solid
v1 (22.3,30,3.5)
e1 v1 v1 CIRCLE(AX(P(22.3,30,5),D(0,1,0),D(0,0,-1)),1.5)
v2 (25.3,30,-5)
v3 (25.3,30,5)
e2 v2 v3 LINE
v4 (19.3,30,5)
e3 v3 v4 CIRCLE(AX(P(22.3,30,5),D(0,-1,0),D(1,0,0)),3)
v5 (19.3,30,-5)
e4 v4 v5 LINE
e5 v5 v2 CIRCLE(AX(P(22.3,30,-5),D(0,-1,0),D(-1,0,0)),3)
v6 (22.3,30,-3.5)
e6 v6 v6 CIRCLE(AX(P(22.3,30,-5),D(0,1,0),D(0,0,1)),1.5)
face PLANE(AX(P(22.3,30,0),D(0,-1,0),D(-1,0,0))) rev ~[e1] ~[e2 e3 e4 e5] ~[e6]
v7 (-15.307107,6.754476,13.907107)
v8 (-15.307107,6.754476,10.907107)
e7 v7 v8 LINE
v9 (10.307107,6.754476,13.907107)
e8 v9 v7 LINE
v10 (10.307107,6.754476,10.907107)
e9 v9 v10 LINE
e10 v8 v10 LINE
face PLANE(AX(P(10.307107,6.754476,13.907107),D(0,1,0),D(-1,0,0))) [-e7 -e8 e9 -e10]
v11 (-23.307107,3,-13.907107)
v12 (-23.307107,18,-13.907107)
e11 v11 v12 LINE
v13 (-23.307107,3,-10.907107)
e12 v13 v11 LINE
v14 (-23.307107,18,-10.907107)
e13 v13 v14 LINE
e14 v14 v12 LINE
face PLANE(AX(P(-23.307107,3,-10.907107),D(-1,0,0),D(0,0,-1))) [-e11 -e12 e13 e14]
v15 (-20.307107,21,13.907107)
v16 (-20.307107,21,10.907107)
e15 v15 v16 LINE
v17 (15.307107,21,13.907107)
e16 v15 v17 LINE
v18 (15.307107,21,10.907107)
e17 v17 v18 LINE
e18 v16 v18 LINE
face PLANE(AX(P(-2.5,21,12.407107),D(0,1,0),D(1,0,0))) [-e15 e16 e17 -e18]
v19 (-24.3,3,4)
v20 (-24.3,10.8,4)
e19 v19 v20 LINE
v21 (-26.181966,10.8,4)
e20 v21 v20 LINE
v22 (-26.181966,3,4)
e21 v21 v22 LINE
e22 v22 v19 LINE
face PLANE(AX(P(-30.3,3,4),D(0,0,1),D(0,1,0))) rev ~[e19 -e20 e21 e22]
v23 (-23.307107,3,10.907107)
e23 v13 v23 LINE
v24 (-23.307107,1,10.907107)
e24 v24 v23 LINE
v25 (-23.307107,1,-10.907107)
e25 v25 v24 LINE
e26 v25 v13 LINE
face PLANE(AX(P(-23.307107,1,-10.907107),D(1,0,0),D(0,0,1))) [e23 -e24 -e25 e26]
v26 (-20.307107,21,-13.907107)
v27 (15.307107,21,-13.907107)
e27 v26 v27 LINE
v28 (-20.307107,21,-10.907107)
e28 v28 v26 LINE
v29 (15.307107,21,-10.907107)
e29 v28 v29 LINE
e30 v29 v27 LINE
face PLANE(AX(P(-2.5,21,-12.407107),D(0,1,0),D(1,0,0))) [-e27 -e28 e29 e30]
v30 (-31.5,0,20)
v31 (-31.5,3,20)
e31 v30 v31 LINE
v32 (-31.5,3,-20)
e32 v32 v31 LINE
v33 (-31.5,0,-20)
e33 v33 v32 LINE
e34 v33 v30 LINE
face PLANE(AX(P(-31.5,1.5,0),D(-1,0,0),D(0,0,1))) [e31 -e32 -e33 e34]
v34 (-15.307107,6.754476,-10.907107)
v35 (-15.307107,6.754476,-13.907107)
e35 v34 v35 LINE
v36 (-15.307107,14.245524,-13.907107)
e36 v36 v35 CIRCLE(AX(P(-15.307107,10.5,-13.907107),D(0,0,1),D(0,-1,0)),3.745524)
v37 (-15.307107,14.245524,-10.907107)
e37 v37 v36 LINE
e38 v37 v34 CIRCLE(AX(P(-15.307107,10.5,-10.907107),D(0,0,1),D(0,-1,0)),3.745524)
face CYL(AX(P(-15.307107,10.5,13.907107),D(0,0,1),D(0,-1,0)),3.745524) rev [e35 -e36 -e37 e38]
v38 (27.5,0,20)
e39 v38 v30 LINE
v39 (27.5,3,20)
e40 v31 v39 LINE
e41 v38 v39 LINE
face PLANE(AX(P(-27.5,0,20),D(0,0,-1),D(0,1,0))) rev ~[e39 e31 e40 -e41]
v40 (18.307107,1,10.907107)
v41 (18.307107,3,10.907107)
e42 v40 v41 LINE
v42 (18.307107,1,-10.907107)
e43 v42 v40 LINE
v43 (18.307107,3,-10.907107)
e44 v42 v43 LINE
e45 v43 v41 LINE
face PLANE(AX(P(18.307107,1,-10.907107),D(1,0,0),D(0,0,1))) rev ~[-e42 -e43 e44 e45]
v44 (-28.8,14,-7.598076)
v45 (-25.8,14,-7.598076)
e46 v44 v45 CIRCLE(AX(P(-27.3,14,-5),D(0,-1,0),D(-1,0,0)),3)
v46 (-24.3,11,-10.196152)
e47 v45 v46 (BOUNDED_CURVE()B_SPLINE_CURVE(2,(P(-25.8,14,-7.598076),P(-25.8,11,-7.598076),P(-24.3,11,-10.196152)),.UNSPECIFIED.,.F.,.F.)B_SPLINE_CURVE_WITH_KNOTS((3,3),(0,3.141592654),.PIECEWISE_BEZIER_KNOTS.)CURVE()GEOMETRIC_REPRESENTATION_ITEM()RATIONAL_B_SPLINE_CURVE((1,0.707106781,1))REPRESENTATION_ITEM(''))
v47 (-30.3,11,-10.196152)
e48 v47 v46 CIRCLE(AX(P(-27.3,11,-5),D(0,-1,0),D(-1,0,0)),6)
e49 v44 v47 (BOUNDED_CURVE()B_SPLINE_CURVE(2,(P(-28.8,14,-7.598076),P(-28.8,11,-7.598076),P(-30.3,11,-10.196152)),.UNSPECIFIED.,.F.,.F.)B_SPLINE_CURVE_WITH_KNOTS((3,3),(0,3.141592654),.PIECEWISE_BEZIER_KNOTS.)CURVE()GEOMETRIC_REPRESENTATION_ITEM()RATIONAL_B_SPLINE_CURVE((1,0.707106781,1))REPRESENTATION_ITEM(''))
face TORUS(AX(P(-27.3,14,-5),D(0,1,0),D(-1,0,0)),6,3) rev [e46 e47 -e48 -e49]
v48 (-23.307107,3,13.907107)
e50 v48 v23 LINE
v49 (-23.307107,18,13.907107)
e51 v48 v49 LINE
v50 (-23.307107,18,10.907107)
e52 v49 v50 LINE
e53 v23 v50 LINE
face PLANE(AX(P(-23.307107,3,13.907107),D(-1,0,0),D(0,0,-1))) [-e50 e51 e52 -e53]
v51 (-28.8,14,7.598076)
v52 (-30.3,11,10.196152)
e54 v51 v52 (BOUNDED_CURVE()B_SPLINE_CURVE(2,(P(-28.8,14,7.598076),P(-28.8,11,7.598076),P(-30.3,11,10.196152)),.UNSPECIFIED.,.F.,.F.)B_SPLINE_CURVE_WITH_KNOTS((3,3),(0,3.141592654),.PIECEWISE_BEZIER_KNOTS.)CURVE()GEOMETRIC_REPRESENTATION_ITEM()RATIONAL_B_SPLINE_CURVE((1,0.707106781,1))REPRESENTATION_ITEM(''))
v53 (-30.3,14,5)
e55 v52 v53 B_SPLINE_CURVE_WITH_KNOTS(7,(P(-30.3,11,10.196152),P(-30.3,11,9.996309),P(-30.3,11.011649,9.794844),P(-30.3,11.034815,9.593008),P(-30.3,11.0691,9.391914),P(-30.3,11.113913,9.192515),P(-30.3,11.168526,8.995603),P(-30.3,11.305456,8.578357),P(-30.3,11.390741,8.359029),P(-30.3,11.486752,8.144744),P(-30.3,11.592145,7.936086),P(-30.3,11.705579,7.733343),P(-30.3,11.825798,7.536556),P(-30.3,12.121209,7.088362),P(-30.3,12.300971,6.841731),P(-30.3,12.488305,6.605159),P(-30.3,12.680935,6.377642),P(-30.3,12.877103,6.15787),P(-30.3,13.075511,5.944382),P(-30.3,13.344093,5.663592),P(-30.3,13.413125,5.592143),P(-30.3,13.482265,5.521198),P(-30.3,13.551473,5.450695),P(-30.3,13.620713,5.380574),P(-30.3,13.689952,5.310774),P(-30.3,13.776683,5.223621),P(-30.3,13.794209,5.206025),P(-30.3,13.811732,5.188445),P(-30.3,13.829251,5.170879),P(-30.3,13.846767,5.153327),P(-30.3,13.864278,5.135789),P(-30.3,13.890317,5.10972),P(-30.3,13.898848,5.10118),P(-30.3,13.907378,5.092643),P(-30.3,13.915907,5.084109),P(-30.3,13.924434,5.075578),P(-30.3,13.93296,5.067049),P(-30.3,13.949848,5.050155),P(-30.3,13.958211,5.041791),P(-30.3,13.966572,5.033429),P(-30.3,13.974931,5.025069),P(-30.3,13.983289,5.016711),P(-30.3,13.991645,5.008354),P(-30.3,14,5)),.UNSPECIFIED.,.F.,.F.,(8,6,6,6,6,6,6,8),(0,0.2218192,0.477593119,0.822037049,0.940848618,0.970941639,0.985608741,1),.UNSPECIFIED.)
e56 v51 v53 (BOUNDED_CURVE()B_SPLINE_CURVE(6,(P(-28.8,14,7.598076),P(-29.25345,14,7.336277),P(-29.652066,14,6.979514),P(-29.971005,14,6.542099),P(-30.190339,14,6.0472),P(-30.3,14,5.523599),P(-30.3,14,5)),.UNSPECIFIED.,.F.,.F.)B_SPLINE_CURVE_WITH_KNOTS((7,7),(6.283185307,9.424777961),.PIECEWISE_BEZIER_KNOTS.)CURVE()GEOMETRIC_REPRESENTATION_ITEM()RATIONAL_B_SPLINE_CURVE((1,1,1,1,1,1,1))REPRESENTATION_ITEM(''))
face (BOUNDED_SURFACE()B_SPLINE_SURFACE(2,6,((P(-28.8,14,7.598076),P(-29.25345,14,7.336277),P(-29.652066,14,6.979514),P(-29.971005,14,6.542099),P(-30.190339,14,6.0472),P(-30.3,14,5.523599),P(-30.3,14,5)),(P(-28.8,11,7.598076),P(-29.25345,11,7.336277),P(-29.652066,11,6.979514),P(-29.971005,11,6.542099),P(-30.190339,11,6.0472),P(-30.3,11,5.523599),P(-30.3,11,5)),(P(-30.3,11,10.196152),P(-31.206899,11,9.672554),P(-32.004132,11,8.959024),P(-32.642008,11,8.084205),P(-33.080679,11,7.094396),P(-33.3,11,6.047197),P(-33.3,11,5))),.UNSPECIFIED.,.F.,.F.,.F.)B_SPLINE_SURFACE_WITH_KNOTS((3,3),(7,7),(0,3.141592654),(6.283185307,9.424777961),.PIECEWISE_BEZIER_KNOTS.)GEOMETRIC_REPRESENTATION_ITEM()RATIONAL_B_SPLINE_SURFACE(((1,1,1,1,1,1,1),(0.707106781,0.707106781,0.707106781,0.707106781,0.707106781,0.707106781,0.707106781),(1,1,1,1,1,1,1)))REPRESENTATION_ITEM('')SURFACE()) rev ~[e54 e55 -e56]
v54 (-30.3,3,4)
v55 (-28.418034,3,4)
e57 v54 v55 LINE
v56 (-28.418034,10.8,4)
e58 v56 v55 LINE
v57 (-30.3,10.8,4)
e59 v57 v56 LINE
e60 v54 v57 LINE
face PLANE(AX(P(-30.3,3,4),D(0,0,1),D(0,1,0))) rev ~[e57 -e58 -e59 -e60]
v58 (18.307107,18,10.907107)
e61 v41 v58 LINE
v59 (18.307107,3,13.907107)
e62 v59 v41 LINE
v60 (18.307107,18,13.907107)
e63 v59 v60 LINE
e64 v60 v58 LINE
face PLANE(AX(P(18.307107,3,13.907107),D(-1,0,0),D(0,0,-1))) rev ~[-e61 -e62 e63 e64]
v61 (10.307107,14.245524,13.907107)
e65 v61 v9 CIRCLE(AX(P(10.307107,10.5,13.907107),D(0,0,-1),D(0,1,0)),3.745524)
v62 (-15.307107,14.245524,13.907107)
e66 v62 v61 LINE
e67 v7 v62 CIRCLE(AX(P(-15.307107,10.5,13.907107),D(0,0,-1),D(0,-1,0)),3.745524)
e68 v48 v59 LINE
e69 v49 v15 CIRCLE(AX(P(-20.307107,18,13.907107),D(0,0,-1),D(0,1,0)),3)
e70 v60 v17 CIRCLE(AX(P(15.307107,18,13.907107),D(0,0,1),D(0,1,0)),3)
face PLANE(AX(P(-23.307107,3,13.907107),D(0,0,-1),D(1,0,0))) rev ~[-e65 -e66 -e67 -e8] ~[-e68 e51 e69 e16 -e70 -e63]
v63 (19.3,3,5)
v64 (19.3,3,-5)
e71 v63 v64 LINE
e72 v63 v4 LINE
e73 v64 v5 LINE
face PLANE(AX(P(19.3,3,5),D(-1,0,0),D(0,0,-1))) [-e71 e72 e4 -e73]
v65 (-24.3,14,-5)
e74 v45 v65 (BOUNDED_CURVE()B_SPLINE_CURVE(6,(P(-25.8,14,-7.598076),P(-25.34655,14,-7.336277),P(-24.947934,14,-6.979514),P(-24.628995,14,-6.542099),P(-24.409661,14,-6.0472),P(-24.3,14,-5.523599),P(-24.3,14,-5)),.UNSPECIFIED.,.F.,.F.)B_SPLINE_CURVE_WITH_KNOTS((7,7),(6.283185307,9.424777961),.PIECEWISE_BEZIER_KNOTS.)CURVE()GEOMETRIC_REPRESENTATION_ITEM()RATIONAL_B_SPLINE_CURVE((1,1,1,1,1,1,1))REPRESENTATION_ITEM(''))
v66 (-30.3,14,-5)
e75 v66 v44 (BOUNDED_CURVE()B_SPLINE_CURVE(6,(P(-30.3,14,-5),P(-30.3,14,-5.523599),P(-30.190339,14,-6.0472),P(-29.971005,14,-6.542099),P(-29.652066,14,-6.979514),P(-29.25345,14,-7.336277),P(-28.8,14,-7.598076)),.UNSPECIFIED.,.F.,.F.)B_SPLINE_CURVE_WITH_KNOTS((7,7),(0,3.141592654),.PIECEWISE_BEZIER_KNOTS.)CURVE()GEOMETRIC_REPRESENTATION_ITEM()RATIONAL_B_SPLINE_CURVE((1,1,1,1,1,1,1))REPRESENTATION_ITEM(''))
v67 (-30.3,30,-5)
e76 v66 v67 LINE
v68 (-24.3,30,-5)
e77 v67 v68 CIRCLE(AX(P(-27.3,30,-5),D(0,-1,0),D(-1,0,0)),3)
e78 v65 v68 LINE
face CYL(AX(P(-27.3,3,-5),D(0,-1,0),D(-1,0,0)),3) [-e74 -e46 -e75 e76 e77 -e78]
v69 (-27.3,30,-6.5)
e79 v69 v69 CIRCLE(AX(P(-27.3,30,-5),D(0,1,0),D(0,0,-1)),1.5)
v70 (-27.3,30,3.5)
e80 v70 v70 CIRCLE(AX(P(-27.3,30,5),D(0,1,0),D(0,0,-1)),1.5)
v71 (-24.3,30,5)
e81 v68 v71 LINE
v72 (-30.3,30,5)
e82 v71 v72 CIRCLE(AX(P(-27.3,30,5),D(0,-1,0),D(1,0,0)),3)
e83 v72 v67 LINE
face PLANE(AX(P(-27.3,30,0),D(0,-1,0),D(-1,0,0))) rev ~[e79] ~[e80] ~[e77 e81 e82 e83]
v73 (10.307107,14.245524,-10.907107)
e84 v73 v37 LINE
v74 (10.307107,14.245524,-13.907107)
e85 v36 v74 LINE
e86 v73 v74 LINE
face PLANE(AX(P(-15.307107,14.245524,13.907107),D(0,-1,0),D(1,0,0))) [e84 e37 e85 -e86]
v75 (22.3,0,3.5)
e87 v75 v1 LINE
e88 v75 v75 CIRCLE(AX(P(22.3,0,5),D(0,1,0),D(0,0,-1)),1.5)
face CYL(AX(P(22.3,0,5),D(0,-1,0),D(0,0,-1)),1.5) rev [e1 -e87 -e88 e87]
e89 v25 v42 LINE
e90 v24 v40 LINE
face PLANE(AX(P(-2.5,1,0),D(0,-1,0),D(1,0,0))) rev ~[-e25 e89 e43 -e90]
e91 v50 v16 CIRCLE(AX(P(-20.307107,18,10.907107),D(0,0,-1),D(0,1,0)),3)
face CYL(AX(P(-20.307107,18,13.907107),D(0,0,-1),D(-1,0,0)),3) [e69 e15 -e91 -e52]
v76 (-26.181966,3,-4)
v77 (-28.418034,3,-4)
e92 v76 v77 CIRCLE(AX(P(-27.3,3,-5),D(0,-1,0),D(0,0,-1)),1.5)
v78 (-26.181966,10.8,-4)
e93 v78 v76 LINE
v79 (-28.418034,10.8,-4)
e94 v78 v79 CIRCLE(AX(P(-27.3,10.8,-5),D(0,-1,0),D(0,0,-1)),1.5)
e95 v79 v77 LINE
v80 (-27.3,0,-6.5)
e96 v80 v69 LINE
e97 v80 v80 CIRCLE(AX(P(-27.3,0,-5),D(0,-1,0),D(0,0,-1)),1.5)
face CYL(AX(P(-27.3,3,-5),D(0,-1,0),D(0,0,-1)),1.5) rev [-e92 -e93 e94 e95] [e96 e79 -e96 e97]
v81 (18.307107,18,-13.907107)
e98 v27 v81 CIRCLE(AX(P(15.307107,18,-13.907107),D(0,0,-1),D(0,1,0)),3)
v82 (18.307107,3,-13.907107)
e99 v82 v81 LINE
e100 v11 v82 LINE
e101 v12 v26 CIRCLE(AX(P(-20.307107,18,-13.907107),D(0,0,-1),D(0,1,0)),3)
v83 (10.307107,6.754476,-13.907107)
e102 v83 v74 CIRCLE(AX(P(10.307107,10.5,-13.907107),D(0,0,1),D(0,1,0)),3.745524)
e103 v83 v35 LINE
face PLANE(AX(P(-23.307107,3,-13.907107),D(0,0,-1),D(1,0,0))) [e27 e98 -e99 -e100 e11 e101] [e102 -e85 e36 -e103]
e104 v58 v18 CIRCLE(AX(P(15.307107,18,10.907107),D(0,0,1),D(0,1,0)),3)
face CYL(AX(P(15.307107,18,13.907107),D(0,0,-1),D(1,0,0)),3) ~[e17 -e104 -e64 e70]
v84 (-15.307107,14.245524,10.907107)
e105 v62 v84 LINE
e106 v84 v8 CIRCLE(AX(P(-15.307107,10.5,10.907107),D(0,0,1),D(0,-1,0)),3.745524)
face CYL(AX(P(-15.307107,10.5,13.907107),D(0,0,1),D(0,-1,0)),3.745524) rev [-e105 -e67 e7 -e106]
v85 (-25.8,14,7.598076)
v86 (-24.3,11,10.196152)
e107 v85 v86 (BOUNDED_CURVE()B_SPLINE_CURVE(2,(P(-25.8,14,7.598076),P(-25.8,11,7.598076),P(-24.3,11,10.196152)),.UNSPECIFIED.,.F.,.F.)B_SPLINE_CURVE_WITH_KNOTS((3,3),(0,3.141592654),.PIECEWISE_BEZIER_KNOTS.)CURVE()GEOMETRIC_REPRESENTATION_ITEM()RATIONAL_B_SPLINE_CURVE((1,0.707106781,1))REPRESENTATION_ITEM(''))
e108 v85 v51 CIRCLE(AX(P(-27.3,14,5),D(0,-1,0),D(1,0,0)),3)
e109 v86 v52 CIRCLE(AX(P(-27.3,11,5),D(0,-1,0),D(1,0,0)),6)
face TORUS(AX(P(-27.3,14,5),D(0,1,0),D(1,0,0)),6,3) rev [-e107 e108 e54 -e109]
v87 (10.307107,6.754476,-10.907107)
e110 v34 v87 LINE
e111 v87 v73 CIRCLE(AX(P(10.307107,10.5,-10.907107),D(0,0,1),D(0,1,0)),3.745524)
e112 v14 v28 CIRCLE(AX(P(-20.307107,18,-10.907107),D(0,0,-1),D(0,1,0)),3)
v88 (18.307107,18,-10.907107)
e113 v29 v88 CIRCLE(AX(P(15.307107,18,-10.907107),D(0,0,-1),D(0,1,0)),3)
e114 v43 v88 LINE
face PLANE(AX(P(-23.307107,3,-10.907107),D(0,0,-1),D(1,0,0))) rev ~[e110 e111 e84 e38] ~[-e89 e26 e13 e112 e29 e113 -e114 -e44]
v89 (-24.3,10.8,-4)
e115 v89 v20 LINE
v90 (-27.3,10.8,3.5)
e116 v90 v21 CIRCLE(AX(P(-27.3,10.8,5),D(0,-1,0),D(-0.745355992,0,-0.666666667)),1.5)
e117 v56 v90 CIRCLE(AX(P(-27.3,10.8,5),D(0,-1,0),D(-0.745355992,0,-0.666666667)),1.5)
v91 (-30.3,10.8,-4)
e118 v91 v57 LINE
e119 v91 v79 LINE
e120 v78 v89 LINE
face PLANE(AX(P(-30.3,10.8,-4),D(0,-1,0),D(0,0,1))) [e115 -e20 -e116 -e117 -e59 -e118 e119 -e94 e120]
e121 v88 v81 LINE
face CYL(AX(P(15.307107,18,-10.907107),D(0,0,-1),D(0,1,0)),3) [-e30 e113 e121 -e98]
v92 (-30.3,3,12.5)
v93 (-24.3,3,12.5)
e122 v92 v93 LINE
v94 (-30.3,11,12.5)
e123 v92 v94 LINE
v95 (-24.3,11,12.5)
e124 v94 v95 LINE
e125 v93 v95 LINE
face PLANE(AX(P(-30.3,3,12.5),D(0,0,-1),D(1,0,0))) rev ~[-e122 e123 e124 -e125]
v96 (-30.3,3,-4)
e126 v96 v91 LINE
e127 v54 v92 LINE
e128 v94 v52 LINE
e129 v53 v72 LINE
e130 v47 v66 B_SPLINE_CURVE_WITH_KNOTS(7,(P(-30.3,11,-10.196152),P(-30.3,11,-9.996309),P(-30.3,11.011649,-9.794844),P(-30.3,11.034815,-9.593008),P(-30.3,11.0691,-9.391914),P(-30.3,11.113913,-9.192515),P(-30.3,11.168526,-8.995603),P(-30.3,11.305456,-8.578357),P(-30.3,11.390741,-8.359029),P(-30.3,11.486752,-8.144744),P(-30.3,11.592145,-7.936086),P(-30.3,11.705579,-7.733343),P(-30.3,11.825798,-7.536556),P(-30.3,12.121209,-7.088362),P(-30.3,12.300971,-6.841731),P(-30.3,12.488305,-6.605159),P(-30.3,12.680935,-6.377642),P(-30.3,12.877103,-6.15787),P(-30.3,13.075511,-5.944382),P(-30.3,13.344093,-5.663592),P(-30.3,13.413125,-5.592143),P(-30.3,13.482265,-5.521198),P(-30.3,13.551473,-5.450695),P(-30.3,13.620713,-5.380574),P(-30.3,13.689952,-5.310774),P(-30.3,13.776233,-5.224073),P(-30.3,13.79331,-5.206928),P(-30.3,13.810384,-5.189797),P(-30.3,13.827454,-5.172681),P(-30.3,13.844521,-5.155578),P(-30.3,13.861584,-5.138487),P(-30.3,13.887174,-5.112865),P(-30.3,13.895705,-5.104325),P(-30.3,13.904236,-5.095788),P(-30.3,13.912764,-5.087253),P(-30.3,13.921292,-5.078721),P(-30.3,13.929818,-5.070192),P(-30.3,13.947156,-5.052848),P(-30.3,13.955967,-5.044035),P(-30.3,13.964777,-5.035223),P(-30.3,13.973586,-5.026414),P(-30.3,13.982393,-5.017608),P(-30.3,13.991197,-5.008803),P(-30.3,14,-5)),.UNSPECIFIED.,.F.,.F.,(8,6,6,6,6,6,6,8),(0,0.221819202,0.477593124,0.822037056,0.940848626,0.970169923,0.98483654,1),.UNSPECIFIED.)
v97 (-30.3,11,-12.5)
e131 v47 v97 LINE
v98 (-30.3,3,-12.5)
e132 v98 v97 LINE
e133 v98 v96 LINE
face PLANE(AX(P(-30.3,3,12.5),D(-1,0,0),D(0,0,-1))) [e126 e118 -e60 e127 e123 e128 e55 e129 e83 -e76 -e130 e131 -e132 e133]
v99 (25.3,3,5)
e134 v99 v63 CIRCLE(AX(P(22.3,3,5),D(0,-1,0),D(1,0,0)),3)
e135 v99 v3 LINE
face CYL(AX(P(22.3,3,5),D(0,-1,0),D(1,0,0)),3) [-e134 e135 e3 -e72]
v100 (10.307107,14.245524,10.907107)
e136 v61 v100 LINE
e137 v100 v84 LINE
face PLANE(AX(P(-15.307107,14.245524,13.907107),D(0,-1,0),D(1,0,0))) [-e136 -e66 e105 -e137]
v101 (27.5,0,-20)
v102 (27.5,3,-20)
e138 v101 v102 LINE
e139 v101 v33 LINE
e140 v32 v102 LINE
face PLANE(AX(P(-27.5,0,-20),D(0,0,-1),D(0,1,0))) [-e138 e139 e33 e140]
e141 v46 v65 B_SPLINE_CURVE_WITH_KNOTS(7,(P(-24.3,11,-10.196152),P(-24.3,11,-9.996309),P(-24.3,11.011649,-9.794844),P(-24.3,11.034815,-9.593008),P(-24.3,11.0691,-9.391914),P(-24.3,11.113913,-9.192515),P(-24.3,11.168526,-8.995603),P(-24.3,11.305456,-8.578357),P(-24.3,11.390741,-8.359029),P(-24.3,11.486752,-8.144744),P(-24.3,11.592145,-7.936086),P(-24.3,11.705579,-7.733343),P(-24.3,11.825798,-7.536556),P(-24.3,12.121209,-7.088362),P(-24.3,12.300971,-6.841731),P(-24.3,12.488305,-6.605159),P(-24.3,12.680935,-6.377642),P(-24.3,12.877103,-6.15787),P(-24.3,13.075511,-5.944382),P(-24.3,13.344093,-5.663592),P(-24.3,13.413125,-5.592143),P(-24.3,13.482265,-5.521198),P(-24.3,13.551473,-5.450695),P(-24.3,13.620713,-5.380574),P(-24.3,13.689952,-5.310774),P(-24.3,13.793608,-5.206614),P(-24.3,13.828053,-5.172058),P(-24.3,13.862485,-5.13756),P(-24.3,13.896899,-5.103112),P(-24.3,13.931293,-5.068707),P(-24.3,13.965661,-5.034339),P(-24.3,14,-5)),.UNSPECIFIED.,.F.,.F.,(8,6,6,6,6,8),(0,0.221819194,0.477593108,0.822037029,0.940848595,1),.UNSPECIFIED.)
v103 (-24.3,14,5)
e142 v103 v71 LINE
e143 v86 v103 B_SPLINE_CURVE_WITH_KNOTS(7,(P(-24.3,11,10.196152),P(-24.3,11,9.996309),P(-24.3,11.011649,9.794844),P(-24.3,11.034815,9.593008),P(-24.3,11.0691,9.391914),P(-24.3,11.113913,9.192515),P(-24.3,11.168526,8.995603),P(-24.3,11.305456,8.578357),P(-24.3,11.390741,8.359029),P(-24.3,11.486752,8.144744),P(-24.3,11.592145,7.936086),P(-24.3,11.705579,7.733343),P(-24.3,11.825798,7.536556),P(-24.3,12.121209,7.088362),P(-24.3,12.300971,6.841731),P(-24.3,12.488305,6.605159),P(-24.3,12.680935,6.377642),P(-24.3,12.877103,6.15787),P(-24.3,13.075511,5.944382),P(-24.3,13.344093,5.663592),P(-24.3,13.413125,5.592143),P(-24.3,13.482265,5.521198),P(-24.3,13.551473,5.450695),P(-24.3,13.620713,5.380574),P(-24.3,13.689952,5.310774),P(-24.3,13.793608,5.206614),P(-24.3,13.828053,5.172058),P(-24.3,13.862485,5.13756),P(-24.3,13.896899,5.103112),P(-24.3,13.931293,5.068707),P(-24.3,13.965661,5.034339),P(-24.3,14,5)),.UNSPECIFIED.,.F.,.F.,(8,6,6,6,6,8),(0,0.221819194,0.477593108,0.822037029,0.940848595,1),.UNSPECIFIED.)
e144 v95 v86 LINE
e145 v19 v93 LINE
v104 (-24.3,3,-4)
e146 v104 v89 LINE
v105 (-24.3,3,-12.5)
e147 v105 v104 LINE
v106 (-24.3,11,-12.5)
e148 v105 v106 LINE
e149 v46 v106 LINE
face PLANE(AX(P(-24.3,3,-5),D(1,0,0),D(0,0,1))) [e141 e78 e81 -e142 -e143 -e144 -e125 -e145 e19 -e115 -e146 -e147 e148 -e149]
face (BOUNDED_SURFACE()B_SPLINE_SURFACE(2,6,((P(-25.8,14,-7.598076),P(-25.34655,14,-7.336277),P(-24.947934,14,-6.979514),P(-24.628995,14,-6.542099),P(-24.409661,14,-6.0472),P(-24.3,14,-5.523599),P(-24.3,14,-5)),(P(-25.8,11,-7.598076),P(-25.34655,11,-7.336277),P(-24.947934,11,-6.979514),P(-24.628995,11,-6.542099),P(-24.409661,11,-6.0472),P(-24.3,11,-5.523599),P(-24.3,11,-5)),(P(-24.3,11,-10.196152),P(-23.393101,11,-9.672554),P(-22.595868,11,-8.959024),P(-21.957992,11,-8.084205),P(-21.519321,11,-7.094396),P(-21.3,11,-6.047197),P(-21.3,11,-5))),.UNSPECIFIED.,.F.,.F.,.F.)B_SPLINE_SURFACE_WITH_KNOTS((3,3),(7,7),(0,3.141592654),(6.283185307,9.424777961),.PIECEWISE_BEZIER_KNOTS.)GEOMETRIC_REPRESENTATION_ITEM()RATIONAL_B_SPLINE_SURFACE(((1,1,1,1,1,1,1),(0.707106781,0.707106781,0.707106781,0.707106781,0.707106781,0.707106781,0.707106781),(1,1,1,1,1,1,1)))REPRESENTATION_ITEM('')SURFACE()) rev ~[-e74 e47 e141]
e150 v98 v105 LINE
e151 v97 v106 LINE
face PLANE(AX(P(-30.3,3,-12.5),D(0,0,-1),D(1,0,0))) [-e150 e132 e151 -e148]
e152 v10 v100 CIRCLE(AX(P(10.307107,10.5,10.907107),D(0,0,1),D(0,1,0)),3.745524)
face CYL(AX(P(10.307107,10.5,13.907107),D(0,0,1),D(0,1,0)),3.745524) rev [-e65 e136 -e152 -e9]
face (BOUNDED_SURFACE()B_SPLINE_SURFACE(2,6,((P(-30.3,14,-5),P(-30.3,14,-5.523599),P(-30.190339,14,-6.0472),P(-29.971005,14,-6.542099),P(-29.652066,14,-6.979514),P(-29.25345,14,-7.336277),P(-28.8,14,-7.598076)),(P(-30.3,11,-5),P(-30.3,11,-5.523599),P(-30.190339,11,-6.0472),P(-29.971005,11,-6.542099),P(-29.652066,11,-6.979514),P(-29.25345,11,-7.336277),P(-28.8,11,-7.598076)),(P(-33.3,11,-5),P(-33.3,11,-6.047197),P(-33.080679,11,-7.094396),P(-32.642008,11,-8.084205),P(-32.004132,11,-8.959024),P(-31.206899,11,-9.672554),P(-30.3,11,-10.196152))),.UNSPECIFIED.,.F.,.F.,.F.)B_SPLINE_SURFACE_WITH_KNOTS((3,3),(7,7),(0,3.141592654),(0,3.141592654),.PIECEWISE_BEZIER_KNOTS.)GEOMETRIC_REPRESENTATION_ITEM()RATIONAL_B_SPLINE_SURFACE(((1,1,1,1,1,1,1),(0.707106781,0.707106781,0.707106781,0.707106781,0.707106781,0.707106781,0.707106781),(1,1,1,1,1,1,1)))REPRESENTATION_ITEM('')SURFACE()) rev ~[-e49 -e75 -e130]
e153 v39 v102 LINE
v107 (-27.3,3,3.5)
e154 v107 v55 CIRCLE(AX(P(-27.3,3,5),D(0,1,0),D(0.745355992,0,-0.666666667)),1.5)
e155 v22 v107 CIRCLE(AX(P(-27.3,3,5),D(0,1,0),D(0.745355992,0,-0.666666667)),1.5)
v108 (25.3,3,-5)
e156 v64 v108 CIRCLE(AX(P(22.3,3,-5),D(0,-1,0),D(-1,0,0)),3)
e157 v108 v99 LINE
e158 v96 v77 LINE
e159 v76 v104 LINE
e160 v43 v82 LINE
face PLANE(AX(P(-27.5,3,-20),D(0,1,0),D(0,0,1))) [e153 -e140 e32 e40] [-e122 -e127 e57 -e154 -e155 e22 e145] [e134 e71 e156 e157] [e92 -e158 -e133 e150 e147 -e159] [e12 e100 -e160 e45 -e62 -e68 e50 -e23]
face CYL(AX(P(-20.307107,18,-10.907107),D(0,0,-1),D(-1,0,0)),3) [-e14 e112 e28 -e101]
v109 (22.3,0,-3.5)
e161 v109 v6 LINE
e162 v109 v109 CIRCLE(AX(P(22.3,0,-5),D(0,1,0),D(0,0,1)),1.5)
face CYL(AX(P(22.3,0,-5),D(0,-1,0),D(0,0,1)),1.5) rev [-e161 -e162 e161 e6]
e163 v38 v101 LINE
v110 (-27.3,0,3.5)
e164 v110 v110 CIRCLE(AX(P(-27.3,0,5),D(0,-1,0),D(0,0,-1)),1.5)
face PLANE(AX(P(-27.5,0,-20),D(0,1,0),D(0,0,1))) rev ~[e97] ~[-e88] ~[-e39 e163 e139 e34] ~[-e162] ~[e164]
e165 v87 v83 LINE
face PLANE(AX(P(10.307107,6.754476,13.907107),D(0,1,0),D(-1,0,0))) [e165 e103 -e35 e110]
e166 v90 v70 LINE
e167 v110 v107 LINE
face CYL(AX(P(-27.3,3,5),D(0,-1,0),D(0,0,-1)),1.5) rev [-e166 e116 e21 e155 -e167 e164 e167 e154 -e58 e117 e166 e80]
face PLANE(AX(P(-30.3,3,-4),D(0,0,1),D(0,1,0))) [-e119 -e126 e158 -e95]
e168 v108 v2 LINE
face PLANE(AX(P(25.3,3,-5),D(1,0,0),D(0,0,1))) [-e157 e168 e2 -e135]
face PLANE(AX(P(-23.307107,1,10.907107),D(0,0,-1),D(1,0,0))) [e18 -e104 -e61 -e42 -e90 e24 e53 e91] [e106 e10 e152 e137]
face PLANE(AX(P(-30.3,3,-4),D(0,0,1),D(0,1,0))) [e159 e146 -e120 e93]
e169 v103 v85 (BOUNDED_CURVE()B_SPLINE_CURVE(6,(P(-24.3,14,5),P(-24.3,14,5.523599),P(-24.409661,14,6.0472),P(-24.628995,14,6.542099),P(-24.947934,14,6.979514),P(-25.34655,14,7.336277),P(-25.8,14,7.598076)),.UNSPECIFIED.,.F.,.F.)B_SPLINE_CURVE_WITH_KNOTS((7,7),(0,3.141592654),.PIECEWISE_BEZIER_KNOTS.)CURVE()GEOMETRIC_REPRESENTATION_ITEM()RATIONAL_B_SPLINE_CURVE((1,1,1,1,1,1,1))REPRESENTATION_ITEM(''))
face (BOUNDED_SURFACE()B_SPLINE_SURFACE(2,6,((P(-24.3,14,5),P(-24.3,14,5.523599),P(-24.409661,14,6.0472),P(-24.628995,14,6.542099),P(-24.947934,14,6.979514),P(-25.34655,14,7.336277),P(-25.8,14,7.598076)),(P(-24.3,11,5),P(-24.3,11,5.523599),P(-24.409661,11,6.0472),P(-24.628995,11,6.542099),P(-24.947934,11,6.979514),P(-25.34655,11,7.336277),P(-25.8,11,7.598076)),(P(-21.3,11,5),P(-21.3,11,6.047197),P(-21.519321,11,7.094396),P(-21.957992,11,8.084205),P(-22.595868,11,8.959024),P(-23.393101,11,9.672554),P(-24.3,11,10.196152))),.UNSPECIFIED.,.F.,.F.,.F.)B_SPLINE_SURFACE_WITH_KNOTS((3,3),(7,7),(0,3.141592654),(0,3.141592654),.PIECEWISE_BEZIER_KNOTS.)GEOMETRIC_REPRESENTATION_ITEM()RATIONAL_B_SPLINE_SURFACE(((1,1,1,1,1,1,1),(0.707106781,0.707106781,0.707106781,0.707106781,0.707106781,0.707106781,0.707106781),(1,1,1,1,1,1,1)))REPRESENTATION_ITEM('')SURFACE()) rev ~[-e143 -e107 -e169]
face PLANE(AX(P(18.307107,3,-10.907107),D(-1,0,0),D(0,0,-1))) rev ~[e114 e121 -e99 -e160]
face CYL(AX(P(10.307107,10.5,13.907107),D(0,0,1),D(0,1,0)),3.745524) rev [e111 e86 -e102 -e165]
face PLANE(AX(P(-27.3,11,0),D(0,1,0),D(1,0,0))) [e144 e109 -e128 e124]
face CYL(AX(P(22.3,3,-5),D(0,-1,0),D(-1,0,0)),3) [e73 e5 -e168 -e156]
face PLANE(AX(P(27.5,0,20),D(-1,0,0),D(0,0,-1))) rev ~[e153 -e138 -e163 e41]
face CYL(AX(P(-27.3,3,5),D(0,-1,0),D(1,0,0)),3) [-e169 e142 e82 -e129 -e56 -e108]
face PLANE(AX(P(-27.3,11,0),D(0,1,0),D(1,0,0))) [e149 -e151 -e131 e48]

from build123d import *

# Parameters (mm, degrees)
SKETCH_1_W          = 55
SKETCH_1_H          = 40
SKETCH_1_R          = 1.5
EXTRUDE_1_DEPTH     = 3
SKETCH_2_W          = 40
SKETCH_2_H          = 3
EXTRUDE_2_DEPTH     = 4
CUT_EXTRUDE_1_REACH = 39.433
SKETCH_3_R          = 1.5
SKETCH_4_R          = 10.5
EXTRUDE_3_DEPTH     = 5
CUT_EXTRUDE_4_REACH = 40.646
CUT_EXTRUDE_START   = -1
SKETCH_5_W          = 41.614213562
SKETCH_5_H          = 21.814213562
SKETCH_6_R          = 1.5
EXTRUDE_5_DEPTH     = 27
SKETCH_7_W          = 6
SKETCH_7_H          = 25
SKETCH_7_R          = 1.5
EXTRUDE_6_DEPTH     = 8
CUT_EXTRUDE_5_REACH = 70.124
SKETCH_8_W          = 8
SKETCH_8_H          = 7.8
FILLET_1_R          = 3
FILLET_2_R          = 3
CUT_EXTRUDE_START_2 = -5
SKETCH_9_R          = 10.5
CUT_EXTRUDE_6_DEPTH = 5
SKETCH_10_W         = 41.614213562
SKETCH_10_H         = 3
EXTRUDE_7_DEPTH     = 18
FILLET_3_R          = 3
CUT_EXTRUDE_7_REACH = 57.154


with BuildPart() as part:
    # 草图1 → 凸台-拉伸1 (new body)
    with BuildSketch(Plane(origin=(0, 0, 0), x_dir=(1, 0, 0), z_dir=(0, 1, 0))):
        Rectangle(SKETCH_1_W, SKETCH_1_H)
        with Locations(Location((22.3, 5, 0), (0, 0, 270))):
            Circle(SKETCH_1_R, mode=Mode.SUBTRACT)
        with Locations(Location((22.3, -5, 0), (0, 0, 90))):
            Circle(SKETCH_1_R, mode=Mode.SUBTRACT)
    extrude(amount=EXTRUDE_1_DEPTH)

    # 草图2 → 凸台-拉伸2 (add)
    with BuildSketch(Plane.ZY.offset(27.5)):
        with Locations((0, 1.5)):
            Rectangle(SKETCH_2_W, SKETCH_2_H)
    extrude(amount=EXTRUDE_2_DEPTH)

    # 草图3 → 切除-拉伸1 (cut, up to next)
    with BuildSketch(Plane.XZ, mode=Mode.PRIVATE) as cut_extrude_1_sk1:
        with Locations(Location((-27.3, 5, 0), (0, 0, 270))):
            Circle(SKETCH_3_R)
    cut_extrude_1_tool1 = extrude(cut_extrude_1_sk1.sketch, amount=-CUT_EXTRUDE_1_REACH, mode=Mode.PRIVATE) & part.part
    # 草图3 → 切除-拉伸1 (cut, up to next)
    with BuildSketch(Plane.XZ, mode=Mode.PRIVATE) as cut_extrude_1_sk2:
        with Locations(Location((-27.3, -5, 0), (0, 0, 270))):
            Circle(SKETCH_3_R)
    cut_extrude_1_tool2 = extrude(cut_extrude_1_sk2.sketch, amount=-CUT_EXTRUDE_1_REACH, mode=Mode.PRIVATE) & part.part
    add(cut_extrude_1_tool1.solids().sort_by_distance((-27.3, 0, 5))[0], mode=Mode.SUBTRACT)
    add(cut_extrude_1_tool2.solids().sort_by_distance((-27.3, 0, -5))[0], mode=Mode.SUBTRACT)

    # 草图4 → 凸台-拉伸3 (add)
    with BuildSketch(Plane.XZ):
        with Locations(Location((-12.5, 0, 0), (0, 0, 90))):
            Circle(SKETCH_4_R)
    extrude(amount=EXTRUDE_3_DEPTH)

    # 草图5 → 切除-拉伸4 (cut, up to next)
    with BuildSketch(Plane.XZ.offset(CUT_EXTRUDE_START), mode=Mode.PRIVATE) as cut_extrude_4_sk1:
        with Locations((-2.5, 0)):
            Rectangle(SKETCH_5_W, SKETCH_5_H)
    cut_extrude_4_tool1 = extrude(cut_extrude_4_sk1.sketch, amount=-CUT_EXTRUDE_4_REACH, mode=Mode.PRIVATE) & part.part
    add(cut_extrude_4_tool1.solids().sort_by_distance((-2.5, 1, 0))[0], mode=Mode.SUBTRACT)

    # 草图6 → 凸台-拉伸5 (add)
    # profile 1 of 2: a face of its own
    with BuildSketch(Plane(origin=(0, 3, 0), x_dir=(1, 0, 0), z_dir=(0, 1, 0))):
        with BuildLine():
            Line((-30.3, -5), (-30.3, 5))
            ThreePointArc((-30.3, 5), (-27.3, 8), (-24.3, 5))
            Line((-24.3, 5), (-24.3, -5))
            ThreePointArc((-24.3, -5), (-27.3, -8), (-30.3, -5))
        make_face()
        with Locations(Location((-27.3, -5, 0), (0, 0, 90))):
            Circle(SKETCH_6_R, mode=Mode.SUBTRACT)
        with Locations(Location((-27.3, 5, 0), (0, 0, 90))):
            Circle(SKETCH_6_R, mode=Mode.SUBTRACT)
    # profile 2 of 2: a face of its own
    with BuildSketch(Plane(origin=(0, 3, 0), x_dir=(1, 0, 0), z_dir=(0, 1, 0))):
        with BuildLine():
            Line((19.3, -5), (19.3, 5))
            ThreePointArc((19.3, 5), (22.3, 8), (25.3, 5))
            Line((25.3, 5), (25.3, -5))
            ThreePointArc((25.3, -5), (22.3, -8), (19.3, -5))
        make_face()
        with Locations(Location((22.3, 5, 0), (0, 0, 270))):
            Circle(SKETCH_6_R, mode=Mode.SUBTRACT)
        with Locations(Location((22.3, -5, 0), (0, 0, 90))):
            Circle(SKETCH_6_R, mode=Mode.SUBTRACT)
    extrude(amount=EXTRUDE_5_DEPTH)

    # 草图7 → 凸台-拉伸6 (add)
    with BuildSketch(Plane(origin=(0, 3, 0), x_dir=(1, 0, 0), z_dir=(0, 1, 0))):
        with Locations((-27.3, 0)):
            Rectangle(SKETCH_7_W, SKETCH_7_H)
        with Locations(Location((-27.3, -5, 0), (0, 0, 90))):
            Circle(SKETCH_7_R, mode=Mode.SUBTRACT)
        with Locations(Location((-27.3, 5, 0), (0, 0, 90))):
            Circle(SKETCH_7_R, mode=Mode.SUBTRACT)
    extrude(amount=EXTRUDE_6_DEPTH)

    # 草图8 → 切除-拉伸5 (cut, up to next)
    with BuildSketch(Plane.ZY.offset(30.3), mode=Mode.PRIVATE) as cut_extrude_5_sk1:
        with Locations((0, 6.9)):
            Rectangle(SKETCH_8_W, SKETCH_8_H)
    cut_extrude_5_tool1 = extrude(cut_extrude_5_sk1.sketch, amount=-CUT_EXTRUDE_5_REACH, mode=Mode.PRIVATE) & part.part
    add(cut_extrude_5_tool1.solids().sort_by_distance((-30.3, 6.9, 0))[0], mode=Mode.SUBTRACT)

    # 圆角1
    fillet_1_edges = [part.edges().sort_by_distance(p)[0] for p in [
        (-27.3, 11, 8),
    ]]
    fillet(fillet_1_edges, radius=FILLET_1_R)

    # 圆角2
    fillet_2_edges = [part.edges().sort_by_distance(p)[0] for p in [
        (-27.3, 11, -8),
    ]]
    fillet(fillet_2_edges, radius=FILLET_2_R)

    # 草图9 → 切除-拉伸6 (cut)
    with BuildSketch(Plane.XZ.offset(5).offset(CUT_EXTRUDE_START_2)):
        with Locations((-12.5, 0)):
            Circle(SKETCH_9_R)
    extrude(amount=CUT_EXTRUDE_6_DEPTH, mode=Mode.SUBTRACT)

    # 草图10 → 凸台-拉伸7 (add)
    with BuildSketch(Plane(origin=(0, 3, 0), x_dir=(1, 0, 0), z_dir=(0, 1, 0))):
        with Locations((-2.5, 12.407106781)):
            Rectangle(SKETCH_10_W, SKETCH_10_H)
        with Locations((-2.5, -12.407106781)):
            Rectangle(SKETCH_10_W, SKETCH_10_H)
    extrude(amount=EXTRUDE_7_DEPTH)

    # 圆角3
    fillet_3_edges = [part.edges().sort_by_distance(p)[0] for p in [
        (-23.307106781, 21, -12.407106781),
        (18.307106781, 21, -12.407106781),
        (18.307106781, 21, 12.407106781),
        (-23.307106781, 21, 12.407106781),
    ]]
    fillet(fillet_3_edges, radius=FILLET_3_R)

    # 切除-拉伸7: up to this face of the body (flat: up to its plane)
    cut_extrude_7_end = Plane(part.part.faces().sort_by_distance((-2.5, 11.956820585, -13.907106781))[0])
    # 草图11 → 切除-拉伸7 (cut, up to the picked face)
    with BuildSketch(Plane.XY.offset(13.907106781), mode=Mode.PRIVATE) as cut_extrude_7_sk1:
        with BuildLine():
            Line((-15.307106781, 14.245523658), (10.307106781, 14.245523658))
            ThreePointArc((10.307106781, 14.245523658), (14.052630439, 10.5), (10.307106781, 6.754476342))
            Line((10.307106781, 6.754476342), (-15.307106781, 6.754476342))
            ThreePointArc((-15.307106781, 6.754476342), (-19.052630439, 10.5), (-15.307106781, 14.245523658))
        make_face()
    cut_extrude_7_tool1 = split(extrude(cut_extrude_7_sk1.sketch, amount=-CUT_EXTRUDE_7_REACH, mode=Mode.PRIVATE), bisect_by=cut_extrude_7_end, keep=Keep.BOTH, mode=Mode.PRIVATE)
    add(cut_extrude_7_tool1.solids().sort_by(Axis((-2.5, 10.5, 13.907107), (0, 0, -1)))[0], mode=Mode.SUBTRACT)


solid = part.part
